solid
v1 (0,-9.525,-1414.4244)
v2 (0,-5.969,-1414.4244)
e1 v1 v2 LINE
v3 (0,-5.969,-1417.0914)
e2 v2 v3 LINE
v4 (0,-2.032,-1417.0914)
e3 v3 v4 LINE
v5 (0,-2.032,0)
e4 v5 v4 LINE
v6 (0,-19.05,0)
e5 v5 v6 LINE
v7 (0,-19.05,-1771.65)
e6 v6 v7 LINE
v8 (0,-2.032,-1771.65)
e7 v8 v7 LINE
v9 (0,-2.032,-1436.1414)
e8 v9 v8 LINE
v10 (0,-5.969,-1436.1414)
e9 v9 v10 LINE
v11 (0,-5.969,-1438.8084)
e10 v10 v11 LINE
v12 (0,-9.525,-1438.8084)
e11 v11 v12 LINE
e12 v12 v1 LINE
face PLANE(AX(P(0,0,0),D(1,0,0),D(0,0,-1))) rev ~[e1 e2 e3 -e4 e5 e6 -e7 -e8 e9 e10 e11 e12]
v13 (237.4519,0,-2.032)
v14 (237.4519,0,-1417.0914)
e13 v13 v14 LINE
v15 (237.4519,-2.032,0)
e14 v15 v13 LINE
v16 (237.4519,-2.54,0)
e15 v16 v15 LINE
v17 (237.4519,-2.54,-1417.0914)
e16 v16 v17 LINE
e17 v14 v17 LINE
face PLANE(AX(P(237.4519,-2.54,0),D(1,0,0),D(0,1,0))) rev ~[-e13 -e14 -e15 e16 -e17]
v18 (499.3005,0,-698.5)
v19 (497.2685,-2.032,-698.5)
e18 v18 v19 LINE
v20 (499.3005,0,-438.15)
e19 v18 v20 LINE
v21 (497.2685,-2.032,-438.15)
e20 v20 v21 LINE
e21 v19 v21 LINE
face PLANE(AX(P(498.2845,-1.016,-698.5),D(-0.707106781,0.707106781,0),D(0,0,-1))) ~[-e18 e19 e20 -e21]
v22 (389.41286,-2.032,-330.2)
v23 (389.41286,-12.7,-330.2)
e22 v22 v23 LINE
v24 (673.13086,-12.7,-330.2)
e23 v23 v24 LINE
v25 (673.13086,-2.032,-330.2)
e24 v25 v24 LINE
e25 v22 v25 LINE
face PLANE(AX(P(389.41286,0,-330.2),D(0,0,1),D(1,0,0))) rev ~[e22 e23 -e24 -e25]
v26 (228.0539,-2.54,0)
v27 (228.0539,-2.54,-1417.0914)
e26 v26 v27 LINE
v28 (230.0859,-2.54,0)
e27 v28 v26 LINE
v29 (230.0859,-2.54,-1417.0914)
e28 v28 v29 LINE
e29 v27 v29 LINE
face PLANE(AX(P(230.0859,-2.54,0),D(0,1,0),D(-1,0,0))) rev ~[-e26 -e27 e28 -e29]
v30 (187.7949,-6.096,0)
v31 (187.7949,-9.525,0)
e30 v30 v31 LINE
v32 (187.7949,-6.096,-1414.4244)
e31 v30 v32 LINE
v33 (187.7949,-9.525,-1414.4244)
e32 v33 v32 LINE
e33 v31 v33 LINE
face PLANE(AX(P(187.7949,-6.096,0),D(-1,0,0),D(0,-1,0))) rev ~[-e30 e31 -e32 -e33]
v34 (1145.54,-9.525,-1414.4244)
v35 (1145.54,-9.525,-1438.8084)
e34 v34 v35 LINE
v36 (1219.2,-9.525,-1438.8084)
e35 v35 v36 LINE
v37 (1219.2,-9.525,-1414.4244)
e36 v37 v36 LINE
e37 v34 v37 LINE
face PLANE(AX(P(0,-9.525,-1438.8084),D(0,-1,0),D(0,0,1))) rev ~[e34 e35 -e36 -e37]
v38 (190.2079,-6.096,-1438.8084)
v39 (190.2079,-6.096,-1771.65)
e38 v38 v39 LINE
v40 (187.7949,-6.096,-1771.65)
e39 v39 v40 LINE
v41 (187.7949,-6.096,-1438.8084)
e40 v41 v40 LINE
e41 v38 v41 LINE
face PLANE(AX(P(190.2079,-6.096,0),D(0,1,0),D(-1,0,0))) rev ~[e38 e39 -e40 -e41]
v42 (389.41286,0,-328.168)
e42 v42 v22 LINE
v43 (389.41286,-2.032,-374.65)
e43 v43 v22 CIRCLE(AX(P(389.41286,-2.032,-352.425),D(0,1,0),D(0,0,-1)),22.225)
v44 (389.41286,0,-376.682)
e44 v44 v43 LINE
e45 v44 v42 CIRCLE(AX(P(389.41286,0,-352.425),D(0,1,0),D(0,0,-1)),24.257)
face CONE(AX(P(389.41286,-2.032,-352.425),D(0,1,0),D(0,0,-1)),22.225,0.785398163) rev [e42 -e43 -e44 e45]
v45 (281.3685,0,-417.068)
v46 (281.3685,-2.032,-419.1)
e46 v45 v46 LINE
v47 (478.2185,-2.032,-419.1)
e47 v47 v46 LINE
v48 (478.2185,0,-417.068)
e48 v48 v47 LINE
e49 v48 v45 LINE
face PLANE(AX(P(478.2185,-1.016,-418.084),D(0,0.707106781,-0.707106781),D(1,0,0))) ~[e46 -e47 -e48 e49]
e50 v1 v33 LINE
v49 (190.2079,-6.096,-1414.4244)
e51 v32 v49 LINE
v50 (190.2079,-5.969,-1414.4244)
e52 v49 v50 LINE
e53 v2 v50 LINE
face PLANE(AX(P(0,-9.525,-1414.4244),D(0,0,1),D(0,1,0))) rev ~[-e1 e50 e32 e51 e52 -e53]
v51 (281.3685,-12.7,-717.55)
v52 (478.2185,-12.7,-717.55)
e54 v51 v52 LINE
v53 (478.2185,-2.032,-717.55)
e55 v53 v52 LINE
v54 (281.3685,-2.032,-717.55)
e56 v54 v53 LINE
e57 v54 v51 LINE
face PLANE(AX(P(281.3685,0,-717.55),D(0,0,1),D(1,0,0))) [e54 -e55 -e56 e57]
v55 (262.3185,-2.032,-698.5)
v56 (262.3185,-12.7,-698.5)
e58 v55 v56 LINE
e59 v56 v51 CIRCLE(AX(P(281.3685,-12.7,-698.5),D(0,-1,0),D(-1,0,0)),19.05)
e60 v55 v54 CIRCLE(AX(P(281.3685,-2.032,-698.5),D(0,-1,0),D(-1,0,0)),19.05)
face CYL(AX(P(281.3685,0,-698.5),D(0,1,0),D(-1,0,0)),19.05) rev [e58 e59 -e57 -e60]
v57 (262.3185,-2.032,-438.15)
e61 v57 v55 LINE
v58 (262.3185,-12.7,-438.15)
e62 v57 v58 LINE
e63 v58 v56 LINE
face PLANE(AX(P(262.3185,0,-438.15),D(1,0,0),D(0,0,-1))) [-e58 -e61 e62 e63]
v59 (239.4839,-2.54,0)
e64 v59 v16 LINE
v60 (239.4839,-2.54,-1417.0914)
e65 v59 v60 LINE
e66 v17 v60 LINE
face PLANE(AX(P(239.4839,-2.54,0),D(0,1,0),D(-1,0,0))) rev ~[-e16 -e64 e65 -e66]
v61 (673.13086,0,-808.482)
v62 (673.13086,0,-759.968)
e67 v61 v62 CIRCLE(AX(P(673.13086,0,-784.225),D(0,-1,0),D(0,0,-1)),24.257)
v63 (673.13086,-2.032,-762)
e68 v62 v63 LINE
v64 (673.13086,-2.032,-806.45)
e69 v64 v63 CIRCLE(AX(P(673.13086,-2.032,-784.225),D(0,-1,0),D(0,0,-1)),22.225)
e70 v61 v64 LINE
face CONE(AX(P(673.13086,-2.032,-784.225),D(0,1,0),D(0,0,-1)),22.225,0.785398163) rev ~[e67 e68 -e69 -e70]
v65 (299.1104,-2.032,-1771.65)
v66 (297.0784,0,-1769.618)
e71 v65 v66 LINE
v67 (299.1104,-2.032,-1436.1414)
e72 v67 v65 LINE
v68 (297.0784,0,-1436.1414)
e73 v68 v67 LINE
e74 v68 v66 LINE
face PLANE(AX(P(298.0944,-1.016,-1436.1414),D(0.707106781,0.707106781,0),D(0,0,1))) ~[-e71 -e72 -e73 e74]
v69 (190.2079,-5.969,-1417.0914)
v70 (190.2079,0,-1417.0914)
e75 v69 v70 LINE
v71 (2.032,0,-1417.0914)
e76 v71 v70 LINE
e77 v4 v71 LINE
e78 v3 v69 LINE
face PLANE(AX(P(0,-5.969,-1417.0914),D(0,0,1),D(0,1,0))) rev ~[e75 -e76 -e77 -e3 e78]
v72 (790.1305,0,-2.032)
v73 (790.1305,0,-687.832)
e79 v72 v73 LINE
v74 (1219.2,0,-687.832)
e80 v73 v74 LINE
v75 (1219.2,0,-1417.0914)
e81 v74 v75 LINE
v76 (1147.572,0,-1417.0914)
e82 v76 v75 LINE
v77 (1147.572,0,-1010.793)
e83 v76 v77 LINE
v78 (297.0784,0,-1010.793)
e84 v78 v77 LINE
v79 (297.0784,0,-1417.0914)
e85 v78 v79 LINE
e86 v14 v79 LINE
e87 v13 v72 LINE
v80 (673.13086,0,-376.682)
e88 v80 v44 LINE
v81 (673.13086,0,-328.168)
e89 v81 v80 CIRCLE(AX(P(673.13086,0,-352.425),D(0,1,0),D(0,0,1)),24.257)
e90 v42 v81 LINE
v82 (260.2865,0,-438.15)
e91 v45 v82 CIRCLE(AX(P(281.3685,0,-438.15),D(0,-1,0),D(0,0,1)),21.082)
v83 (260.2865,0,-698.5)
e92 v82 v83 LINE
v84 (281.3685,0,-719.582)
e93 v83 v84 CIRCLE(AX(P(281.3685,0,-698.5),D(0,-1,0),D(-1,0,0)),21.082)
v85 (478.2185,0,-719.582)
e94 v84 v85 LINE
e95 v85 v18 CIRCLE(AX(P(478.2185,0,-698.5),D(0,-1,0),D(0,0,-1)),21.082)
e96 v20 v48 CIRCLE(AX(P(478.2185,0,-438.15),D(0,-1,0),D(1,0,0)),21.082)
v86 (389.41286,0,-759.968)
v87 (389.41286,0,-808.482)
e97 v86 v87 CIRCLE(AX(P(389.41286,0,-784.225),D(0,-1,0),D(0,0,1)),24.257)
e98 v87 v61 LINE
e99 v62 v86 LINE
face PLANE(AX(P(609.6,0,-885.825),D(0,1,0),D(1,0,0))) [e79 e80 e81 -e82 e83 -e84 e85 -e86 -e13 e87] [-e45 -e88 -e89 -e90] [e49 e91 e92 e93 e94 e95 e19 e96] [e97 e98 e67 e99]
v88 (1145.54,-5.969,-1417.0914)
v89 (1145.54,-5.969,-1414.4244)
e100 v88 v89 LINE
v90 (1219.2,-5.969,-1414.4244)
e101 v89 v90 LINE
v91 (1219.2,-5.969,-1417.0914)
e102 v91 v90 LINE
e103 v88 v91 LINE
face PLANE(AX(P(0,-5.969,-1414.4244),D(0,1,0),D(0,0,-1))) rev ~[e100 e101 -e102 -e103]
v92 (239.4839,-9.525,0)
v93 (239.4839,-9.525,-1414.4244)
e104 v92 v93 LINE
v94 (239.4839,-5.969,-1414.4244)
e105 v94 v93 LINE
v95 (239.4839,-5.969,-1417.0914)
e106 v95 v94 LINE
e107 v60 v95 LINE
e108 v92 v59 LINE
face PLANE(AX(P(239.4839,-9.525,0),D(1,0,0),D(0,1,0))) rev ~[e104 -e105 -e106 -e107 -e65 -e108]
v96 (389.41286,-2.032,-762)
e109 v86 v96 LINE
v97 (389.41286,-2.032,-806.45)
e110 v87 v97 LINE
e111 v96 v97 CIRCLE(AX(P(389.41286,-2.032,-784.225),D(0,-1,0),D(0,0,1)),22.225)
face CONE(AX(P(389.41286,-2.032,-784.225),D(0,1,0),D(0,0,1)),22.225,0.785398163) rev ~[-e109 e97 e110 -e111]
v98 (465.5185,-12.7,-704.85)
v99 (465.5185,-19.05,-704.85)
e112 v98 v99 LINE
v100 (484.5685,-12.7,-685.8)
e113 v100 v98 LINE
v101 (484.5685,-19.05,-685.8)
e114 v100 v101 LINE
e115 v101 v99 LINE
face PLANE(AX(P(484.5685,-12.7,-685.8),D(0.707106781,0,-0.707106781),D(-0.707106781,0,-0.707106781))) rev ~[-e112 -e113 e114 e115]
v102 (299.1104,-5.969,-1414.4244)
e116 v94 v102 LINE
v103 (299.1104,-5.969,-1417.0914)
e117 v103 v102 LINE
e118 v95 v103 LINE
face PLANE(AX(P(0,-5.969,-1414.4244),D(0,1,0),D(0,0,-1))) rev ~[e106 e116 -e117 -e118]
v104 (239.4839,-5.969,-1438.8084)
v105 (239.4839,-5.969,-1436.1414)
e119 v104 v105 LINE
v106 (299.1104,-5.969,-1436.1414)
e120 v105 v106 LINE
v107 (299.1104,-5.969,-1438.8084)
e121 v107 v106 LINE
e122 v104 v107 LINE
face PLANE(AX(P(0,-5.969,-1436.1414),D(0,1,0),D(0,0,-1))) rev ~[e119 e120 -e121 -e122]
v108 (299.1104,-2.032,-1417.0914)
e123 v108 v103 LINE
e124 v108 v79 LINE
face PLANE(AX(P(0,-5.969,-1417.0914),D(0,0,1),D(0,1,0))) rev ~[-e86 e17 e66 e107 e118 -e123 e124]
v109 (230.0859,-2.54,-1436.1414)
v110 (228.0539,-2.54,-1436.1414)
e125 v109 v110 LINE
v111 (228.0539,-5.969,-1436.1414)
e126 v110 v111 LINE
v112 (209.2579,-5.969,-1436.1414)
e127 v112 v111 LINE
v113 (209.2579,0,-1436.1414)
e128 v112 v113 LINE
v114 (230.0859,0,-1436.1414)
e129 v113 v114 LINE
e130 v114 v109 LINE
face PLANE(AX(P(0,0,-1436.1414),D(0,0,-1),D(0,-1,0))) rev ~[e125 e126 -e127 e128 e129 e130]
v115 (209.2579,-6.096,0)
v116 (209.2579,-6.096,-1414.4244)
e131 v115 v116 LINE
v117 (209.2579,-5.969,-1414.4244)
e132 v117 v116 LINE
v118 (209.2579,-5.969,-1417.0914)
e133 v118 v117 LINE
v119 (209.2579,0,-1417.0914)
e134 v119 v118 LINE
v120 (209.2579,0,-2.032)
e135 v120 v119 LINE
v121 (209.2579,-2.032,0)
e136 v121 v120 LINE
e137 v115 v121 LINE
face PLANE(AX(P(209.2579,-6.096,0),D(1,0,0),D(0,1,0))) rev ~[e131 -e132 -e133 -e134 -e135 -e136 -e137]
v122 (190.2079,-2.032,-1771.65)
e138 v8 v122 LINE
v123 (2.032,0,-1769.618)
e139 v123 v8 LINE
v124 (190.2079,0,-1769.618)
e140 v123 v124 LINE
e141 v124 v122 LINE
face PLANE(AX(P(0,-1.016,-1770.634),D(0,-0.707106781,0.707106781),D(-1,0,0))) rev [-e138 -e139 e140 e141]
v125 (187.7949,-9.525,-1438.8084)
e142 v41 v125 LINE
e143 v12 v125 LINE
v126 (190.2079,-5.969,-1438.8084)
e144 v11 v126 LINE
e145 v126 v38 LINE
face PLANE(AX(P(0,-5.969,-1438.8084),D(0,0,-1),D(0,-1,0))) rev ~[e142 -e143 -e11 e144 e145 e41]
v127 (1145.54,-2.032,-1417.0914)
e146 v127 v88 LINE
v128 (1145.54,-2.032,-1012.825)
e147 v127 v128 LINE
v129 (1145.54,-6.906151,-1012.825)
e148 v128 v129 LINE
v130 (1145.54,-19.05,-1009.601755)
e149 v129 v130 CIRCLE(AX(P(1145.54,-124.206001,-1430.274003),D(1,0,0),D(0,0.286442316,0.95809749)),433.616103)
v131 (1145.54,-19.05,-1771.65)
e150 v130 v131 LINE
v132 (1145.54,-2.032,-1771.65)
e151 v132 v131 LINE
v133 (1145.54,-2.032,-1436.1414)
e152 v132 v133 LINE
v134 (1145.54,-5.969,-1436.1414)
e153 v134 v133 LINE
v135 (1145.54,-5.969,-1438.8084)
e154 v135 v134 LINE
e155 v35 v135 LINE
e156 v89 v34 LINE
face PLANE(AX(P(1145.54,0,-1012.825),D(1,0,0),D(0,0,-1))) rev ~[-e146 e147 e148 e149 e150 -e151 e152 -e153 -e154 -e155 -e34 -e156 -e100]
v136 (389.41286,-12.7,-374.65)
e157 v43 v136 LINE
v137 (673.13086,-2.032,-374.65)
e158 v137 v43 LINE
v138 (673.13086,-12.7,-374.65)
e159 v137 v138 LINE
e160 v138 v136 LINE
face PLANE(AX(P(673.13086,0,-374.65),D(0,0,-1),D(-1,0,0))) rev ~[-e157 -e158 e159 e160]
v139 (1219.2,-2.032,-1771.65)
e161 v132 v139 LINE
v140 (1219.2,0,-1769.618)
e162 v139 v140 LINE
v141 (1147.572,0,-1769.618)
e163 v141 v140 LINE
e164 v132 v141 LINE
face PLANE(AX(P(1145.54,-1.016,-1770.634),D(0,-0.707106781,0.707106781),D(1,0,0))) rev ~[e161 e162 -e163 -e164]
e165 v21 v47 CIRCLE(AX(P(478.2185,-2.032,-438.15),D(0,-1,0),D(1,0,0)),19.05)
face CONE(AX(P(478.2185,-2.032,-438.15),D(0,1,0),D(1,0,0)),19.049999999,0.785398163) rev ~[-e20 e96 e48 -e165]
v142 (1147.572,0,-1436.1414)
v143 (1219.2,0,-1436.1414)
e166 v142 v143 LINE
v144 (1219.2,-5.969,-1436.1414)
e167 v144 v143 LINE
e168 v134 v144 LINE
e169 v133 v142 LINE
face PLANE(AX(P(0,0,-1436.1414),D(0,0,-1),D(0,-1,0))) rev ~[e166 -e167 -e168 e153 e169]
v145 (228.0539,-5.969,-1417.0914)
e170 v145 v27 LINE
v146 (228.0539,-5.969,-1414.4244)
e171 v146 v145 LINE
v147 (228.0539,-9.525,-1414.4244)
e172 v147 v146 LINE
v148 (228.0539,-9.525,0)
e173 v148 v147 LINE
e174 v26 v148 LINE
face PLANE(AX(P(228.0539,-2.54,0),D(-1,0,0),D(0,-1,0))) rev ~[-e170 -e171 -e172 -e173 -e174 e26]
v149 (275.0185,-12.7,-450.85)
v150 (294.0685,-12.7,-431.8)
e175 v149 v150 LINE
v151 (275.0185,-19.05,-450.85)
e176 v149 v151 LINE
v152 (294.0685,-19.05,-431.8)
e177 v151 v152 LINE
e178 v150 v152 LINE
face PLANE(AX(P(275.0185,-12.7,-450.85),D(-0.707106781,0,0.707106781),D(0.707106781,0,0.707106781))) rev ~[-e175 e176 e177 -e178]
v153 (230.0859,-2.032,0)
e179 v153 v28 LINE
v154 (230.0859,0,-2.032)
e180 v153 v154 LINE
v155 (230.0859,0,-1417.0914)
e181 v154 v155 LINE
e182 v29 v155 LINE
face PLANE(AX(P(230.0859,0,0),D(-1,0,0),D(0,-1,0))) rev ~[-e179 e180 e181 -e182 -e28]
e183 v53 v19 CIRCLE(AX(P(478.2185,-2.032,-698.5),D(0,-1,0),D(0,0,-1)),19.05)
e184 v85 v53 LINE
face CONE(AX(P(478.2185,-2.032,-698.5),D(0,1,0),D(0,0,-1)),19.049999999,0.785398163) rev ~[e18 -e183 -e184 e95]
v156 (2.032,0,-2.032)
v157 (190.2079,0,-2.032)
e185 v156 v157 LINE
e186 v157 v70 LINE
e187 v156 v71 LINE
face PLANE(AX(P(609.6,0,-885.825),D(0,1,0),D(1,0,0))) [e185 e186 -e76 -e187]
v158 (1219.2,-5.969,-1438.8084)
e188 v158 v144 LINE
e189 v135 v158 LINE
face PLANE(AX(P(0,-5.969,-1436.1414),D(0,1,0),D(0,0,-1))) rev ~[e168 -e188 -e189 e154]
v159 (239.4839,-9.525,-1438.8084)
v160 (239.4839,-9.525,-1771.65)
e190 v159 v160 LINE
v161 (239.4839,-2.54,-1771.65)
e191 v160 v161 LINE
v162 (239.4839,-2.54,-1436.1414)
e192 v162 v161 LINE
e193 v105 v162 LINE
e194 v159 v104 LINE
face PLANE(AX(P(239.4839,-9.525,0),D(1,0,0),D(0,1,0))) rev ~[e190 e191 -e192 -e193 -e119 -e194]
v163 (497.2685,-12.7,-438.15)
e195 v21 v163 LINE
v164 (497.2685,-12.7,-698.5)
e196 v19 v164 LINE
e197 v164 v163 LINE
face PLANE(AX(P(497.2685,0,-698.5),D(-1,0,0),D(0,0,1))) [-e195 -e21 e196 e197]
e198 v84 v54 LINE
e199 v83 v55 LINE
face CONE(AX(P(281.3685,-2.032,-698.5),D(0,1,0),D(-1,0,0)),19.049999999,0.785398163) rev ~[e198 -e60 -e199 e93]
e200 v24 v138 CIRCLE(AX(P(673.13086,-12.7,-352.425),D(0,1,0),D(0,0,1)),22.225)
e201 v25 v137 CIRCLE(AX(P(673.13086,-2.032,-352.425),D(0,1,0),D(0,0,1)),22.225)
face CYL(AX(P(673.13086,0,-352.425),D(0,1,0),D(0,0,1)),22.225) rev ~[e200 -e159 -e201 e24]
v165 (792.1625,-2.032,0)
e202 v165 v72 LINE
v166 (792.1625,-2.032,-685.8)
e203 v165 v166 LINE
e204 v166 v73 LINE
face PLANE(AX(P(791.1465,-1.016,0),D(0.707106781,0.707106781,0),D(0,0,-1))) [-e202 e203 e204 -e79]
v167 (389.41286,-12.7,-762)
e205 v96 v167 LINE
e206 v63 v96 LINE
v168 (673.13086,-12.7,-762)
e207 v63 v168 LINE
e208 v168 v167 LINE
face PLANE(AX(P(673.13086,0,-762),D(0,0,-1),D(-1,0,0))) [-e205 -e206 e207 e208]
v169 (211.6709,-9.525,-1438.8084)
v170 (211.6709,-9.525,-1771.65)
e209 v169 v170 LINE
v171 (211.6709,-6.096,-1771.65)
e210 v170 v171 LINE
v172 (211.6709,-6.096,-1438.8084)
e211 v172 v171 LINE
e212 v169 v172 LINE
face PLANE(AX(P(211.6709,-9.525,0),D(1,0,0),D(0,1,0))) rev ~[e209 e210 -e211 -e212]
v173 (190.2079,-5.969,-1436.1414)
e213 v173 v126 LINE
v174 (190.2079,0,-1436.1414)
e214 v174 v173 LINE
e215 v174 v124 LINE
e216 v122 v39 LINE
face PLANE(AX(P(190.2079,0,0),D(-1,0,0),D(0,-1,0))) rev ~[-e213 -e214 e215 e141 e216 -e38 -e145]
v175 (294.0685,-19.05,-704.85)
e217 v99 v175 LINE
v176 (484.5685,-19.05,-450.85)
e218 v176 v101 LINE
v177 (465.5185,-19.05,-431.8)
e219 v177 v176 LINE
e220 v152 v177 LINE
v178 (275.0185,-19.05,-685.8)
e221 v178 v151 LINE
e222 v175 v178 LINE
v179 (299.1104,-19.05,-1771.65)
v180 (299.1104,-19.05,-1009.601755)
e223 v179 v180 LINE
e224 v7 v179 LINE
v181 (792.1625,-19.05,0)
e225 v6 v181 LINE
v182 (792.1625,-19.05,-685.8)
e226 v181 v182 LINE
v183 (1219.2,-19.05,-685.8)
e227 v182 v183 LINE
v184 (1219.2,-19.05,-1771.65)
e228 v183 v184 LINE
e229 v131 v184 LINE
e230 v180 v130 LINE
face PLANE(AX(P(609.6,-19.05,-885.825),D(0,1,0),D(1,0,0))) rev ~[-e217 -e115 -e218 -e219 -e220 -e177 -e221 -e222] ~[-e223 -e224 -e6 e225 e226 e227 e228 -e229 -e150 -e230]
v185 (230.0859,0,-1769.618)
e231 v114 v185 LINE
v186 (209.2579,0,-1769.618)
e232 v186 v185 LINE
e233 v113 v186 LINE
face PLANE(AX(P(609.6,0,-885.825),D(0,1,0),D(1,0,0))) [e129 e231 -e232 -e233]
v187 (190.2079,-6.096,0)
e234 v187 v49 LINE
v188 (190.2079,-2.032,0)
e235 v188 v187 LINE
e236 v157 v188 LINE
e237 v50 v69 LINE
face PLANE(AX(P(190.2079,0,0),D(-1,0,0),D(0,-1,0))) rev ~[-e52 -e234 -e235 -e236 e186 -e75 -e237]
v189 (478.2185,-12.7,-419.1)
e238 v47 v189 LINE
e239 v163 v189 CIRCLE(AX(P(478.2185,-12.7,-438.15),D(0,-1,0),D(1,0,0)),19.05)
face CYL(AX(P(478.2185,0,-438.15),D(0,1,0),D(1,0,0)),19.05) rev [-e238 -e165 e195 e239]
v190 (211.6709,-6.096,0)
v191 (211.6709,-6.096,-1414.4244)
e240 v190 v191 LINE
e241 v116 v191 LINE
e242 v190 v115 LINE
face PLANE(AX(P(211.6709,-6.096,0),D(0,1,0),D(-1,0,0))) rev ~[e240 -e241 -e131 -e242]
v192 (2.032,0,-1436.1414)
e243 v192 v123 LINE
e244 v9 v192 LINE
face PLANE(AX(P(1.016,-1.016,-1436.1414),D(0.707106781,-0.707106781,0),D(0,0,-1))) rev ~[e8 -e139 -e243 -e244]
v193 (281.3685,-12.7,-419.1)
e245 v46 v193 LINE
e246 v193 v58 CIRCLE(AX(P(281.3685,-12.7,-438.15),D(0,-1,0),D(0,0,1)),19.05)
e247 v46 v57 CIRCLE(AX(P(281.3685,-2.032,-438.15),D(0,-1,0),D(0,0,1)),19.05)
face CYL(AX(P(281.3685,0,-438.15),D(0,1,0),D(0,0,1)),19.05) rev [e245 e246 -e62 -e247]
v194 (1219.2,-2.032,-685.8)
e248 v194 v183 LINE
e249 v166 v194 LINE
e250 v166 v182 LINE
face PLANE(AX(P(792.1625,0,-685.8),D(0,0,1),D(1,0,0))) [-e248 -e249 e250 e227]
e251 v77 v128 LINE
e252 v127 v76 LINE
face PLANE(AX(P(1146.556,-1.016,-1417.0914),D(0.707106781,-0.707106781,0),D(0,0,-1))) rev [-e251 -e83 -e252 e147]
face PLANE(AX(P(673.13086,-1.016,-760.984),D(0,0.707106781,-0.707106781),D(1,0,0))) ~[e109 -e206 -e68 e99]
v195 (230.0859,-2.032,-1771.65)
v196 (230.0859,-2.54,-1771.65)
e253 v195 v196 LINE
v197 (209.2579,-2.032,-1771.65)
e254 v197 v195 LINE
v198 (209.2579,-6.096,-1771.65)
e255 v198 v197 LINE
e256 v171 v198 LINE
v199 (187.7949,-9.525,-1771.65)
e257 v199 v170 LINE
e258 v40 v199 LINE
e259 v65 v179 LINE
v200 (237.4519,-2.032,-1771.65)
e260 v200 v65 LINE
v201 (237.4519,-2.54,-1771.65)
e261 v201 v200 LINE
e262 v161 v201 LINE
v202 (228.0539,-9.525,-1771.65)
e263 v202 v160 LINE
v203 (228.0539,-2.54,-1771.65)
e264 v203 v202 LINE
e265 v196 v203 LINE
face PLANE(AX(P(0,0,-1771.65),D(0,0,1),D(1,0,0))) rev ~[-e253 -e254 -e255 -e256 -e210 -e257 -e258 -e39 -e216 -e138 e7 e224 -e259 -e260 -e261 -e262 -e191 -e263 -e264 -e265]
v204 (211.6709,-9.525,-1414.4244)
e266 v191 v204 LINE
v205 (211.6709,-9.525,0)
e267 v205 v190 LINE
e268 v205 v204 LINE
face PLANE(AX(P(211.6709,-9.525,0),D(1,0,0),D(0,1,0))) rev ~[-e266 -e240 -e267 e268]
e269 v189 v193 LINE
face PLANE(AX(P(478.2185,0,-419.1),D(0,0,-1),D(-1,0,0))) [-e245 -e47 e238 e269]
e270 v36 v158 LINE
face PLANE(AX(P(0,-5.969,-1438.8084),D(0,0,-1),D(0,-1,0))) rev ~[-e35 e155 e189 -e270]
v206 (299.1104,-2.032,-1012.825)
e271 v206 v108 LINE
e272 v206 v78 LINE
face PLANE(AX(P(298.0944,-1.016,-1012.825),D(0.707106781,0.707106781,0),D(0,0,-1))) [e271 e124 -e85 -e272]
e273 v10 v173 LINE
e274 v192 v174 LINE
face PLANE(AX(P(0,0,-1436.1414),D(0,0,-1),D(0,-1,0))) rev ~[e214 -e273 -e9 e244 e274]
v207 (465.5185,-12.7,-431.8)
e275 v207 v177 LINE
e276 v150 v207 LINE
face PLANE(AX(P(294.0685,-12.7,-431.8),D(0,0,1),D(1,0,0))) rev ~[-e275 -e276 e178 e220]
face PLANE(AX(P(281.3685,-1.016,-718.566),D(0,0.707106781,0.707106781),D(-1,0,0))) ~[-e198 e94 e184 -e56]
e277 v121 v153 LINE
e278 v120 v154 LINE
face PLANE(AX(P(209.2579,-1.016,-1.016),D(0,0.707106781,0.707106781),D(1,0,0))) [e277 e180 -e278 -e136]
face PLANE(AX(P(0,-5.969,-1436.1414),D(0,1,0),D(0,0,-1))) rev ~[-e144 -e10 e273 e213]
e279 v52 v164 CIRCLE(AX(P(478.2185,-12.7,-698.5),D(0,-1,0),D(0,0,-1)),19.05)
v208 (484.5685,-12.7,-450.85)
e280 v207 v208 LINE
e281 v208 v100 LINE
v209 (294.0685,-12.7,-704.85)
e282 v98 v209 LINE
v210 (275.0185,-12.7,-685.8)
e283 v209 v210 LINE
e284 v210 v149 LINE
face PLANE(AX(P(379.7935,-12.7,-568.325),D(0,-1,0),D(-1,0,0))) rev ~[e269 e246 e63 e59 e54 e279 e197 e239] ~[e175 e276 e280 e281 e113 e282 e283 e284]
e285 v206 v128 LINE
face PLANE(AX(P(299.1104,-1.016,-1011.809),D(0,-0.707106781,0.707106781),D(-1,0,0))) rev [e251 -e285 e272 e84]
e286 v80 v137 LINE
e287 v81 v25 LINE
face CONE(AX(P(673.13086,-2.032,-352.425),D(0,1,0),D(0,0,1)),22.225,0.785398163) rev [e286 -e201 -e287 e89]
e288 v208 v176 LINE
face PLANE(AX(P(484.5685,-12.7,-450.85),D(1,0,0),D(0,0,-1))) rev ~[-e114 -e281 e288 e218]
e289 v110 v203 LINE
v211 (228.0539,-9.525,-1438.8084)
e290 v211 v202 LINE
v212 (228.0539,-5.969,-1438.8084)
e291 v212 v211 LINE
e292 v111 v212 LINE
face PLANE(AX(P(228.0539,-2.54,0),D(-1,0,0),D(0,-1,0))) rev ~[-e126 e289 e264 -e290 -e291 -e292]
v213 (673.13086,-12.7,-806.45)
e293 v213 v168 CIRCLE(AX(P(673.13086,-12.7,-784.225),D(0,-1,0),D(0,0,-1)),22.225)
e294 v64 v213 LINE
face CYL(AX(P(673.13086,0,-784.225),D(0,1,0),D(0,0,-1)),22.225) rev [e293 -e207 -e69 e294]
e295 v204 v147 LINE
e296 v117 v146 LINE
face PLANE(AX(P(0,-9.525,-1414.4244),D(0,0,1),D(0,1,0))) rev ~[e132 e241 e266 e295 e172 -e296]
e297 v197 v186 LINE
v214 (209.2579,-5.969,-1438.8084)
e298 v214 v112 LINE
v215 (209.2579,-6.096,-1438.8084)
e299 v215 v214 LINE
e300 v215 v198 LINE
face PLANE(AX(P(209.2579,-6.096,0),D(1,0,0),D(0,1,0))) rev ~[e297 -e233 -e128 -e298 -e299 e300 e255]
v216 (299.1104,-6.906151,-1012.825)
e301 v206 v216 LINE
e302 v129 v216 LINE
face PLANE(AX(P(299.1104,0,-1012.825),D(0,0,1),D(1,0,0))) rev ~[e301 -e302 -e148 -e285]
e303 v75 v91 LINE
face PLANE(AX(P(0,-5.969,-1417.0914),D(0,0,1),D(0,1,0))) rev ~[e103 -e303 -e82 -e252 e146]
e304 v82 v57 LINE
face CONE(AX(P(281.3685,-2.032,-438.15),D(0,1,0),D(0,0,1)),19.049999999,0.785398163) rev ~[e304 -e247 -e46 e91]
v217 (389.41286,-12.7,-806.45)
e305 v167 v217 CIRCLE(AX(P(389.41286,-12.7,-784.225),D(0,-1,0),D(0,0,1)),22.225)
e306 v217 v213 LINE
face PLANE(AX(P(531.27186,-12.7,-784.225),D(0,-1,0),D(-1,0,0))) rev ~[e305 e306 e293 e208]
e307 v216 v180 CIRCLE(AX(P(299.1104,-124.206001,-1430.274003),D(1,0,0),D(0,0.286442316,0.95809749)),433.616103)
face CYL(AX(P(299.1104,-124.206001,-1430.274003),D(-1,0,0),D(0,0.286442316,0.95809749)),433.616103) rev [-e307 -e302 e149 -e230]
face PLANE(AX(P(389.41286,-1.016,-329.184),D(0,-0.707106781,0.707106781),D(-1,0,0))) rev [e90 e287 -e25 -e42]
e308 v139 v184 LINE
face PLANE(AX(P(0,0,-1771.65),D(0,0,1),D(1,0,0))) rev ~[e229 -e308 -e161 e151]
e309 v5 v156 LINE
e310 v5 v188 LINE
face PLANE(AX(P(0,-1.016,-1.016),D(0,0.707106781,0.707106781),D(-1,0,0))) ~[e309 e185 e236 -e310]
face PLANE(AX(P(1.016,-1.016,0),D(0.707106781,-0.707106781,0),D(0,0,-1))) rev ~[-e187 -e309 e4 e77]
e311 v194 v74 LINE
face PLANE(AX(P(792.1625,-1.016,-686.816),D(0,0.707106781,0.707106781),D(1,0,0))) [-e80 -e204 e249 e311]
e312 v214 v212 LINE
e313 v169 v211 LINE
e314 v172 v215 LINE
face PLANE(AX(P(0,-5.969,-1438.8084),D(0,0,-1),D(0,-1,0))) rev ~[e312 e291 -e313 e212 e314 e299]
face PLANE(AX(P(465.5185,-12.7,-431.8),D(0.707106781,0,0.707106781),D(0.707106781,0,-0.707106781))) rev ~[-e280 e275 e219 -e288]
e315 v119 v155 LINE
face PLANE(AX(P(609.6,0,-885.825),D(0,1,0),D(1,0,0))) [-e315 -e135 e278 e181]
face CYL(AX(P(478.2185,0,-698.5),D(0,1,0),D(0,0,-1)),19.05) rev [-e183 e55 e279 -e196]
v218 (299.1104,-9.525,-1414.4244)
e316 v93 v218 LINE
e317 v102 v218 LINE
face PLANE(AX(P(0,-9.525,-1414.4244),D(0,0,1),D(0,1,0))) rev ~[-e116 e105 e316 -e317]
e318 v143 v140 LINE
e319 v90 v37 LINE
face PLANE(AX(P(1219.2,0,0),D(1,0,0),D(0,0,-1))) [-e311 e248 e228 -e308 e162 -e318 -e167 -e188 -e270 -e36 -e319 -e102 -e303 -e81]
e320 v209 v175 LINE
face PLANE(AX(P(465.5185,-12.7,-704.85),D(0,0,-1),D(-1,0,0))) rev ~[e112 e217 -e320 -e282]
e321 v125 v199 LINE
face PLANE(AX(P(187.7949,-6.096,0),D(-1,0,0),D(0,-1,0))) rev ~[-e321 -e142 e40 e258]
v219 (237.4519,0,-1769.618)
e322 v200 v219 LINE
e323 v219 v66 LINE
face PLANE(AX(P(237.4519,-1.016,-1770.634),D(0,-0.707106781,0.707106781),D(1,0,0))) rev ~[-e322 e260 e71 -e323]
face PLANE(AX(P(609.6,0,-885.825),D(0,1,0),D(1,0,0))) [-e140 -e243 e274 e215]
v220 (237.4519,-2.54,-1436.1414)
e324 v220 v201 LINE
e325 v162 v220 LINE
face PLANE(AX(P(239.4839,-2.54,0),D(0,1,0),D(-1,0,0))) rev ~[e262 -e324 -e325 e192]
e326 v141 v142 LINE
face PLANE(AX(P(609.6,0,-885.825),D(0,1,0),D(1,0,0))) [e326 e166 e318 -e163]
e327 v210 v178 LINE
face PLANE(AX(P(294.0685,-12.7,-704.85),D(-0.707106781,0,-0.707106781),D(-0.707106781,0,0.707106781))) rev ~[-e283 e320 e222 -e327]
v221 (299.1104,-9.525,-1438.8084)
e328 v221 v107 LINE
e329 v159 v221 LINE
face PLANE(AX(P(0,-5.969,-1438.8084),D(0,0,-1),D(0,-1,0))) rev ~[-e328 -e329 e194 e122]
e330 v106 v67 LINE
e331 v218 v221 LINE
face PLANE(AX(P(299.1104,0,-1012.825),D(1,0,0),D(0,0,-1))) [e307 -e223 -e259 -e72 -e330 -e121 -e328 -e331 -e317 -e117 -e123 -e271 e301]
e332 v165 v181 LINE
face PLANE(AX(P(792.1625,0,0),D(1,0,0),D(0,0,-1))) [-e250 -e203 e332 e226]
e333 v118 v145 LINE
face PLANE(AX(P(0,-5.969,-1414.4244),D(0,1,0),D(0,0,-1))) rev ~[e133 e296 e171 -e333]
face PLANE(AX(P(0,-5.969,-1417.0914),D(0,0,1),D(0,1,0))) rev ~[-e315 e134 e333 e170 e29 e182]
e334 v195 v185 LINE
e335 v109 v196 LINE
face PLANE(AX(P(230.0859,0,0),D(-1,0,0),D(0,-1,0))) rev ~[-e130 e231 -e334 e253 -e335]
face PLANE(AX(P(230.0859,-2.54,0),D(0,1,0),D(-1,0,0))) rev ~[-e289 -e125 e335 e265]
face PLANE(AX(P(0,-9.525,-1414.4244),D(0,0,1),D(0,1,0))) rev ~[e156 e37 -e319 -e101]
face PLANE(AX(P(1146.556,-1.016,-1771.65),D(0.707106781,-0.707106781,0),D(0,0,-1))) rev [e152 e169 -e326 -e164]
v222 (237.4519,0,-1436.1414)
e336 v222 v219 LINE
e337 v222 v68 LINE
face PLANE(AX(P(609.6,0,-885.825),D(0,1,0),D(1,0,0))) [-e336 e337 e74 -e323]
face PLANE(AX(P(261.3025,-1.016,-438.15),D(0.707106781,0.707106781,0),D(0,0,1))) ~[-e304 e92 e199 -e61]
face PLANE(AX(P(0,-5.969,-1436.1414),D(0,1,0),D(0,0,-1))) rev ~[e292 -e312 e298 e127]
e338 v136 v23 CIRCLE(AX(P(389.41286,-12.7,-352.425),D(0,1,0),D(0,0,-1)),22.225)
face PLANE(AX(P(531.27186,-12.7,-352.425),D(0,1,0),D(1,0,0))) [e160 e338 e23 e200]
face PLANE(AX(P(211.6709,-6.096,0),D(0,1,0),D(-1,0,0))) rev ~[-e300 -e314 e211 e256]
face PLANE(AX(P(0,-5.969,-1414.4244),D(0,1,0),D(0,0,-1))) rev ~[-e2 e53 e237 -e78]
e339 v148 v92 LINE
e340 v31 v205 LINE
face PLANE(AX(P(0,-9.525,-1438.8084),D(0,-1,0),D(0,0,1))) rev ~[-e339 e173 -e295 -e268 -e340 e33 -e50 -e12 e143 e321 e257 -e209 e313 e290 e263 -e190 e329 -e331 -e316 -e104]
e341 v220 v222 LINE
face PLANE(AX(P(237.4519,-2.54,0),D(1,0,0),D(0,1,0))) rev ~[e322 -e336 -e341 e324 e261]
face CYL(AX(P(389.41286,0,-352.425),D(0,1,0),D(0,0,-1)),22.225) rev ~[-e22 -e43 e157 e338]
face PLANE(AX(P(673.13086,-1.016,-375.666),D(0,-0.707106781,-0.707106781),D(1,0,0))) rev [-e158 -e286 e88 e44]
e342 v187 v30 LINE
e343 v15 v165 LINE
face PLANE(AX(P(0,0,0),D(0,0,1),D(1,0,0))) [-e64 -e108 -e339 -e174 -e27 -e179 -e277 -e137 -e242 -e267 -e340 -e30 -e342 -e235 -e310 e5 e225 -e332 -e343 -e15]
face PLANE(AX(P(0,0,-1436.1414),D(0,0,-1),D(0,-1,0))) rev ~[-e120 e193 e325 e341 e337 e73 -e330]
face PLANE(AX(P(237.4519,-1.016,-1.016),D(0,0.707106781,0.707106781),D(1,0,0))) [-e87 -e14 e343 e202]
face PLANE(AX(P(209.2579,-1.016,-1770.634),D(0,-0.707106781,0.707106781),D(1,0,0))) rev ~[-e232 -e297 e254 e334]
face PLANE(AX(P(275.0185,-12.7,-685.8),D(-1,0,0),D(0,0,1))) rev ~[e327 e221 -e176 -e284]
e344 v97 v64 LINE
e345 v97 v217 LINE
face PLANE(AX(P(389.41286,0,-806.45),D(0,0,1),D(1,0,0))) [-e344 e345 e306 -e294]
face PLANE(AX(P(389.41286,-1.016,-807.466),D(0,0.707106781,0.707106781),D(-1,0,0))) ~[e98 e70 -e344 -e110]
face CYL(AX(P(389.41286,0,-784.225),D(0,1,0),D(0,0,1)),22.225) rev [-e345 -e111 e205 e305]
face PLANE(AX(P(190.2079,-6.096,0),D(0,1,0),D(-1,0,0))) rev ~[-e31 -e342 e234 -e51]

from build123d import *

# Parameters (mm, degrees)
SKETCH1_W           = 1219.2
SKETCH1_H           = 1771.65
BOSS_EXTRUDE1_DEPTH = 19.05
SKETCH3_W           = 508
SKETCH3_H           = 685.8
CUT_EXTRUDE2_DEPTH  = 20.05
SKETCH5_W           = 846.4296
SKETCH5_H           = 758.825
CUT_EXTRUDE4_DEPTH  = 20.05
CUT_EXTRUDE12_DEPTH = 846.4296
CUT_EXTRUDE5_DEPTH  = 12.7
CUT_EXTRUDE6_DEPTH  = 7.35
CUT_EXTRUDE11_DEPTH = 12.7
CUT_EXTRUDE8_DEPTH  = 1772.65
CUT_EXTRUDE10_DEPTH = 1220.2
CHAMFER2_SIZE       = 2.032


with BuildPart() as part:
    # Sketch1 → Boss-Extrude1 (new body)
    with BuildSketch(Plane(origin=(0, 0, 0), x_dir=(1, 0, 0), z_dir=(0, 1, 0))):
        with Locations((609.6, 885.825)):
            Rectangle(SKETCH1_W, SKETCH1_H)
    extrude(amount=-BOSS_EXTRUDE1_DEPTH)

    # Sketch3 → Cut-Extrude2 (cut, through all)
    with BuildSketch(Plane(origin=(0, 0, 0), x_dir=(1, 0, 0), z_dir=(0, 1, 0))):
        with Locations((1046.1625, 342.9)):
            Rectangle(SKETCH3_W, SKETCH3_H)
    extrude(amount=-CUT_EXTRUDE2_DEPTH, mode=Mode.SUBTRACT)

    # Sketch5 → Cut-Extrude4 (cut, through all)
    with BuildSketch(Plane(origin=(0, 0, 0), x_dir=(1, 0, 0), z_dir=(0, 1, 0))):
        with Locations((722.3252, 1392.2375)):
            Rectangle(SKETCH5_W, SKETCH5_H)
    extrude(amount=-CUT_EXTRUDE4_DEPTH, mode=Mode.SUBTRACT)

    # Sketch18 → Cut-Extrude12 (cut)
    with BuildSketch(Plane(origin=(299.1104, 0, 0), x_dir=(0, 0, -1), z_dir=(1, 0, 0))):
        with BuildLine():
            Line((1009.601754844, -19.05), (1771.65, -19.05))
            Line((1771.65, -19.05), (1771.65, 0))
            Line((1771.65, 0), (1014.82750315, 0))
            ThreePointArc((1014.82750315, 0), (1012.106135013, -9.495238202), (1009.601754844, -19.05))
        make_face()
    extrude(amount=CUT_EXTRUDE12_DEPTH, mode=Mode.SUBTRACT)

    # Sketch7 → Cut-Extrude5 (cut)
    with BuildSketch(Plane(origin=(0, 0, 0), x_dir=(1, 0, 0), z_dir=(0, 1, 0))):
        with BuildLine():
            Line((281.3685, 717.55), (478.2185, 717.55))
            ThreePointArc((478.2185, 717.55), (491.688884182, 711.970384182), (497.2685, 698.5))
            Line((497.2685, 698.5), (497.2685, 438.15))
            ThreePointArc((497.2685, 438.15), (491.688884182, 424.679615818), (478.2185, 419.1))
            Line((478.2185, 419.1), (281.3685, 419.1))
            ThreePointArc((281.3685, 419.1), (267.898115818, 424.679615818), (262.3185, 438.15))
            Line((262.3185, 438.15), (262.3185, 698.5))
            ThreePointArc((262.3185, 698.5), (267.898115818, 711.970384182), (281.3685, 717.55))
        make_face()
    extrude(amount=-CUT_EXTRUDE5_DEPTH, mode=Mode.SUBTRACT)

    # Sketch8 → Cut-Extrude6 (cut, through all)
    with BuildSketch(Plane(origin=(0, -12.7, 0), x_dir=(1, 0, 0), z_dir=(0, 1, 0))):
        Polygon((294.0685, 704.85), (275.0185, 685.8), (275.0185, 450.85), (294.0685, 431.8), (465.5185, 431.8), (484.5685, 450.85), (484.5685, 685.8), (465.5185, 704.85), align=None)
    extrude(amount=-CUT_EXTRUDE6_DEPTH, mode=Mode.SUBTRACT)

    # Sketch17 → Cut-Extrude11 (cut)
    with BuildSketch(Plane(origin=(0, 0, 0), x_dir=(1, 0, 0), z_dir=(0, 1, 0))):
        with BuildLine():
            Line((389.412860427, 806.45), (673.130860427, 806.45))
            ThreePointArc((673.130860427, 806.45), (695.355860427, 784.225), (673.130860427, 762))
            Line((673.130860427, 762), (389.412860427, 762))
            ThreePointArc((389.412860427, 762), (367.187860427, 784.225), (389.412860427, 806.45))
        make_face()
        with BuildLine():
            Line((389.412860427, 330.2), (673.130860427, 330.2))
            ThreePointArc((673.130860427, 330.2), (695.355860427, 352.425), (673.130860427, 374.65))
            Line((673.130860427, 374.65), (389.412860427, 374.65))
            ThreePointArc((389.412860427, 374.65), (367.187860427, 352.425), (389.412860427, 330.2))
        make_face()
    extrude(amount=-CUT_EXTRUDE11_DEPTH, mode=Mode.SUBTRACT)

    # Sketch12 → Cut-Extrude8 (cut, through all)
    with BuildSketch(Plane.XY):
        Polygon((209.2579, 0), (190.2079, 0), (190.2079, -6.096), (187.7949, -6.096), (187.7949, -9.525), (211.6709, -9.525), (211.6709, -6.096), (209.2579, -6.096), align=None)
        Polygon((237.4519, 0), (230.0859, 0), (230.0859, -2.54), (228.0539, -2.54), (228.0539, -9.525), (239.4839, -9.525), (239.4839, -2.54), (237.4519, -2.54), align=None)
    extrude(amount=-CUT_EXTRUDE8_DEPTH, mode=Mode.SUBTRACT)

    # Sketch16 → Cut-Extrude10 (cut, through all)
    with BuildSketch(Plane.ZY):
        Polygon((-1438.8084, -9.525), (-1414.4244, -9.525), (-1414.4244, -5.969), (-1417.0914, -5.969), (-1417.0914, 0), (-1436.1414, 0), (-1436.1414, -5.969), (-1438.8084, -5.969), align=None)
    extrude(amount=-CUT_EXTRUDE10_DEPTH, mode=Mode.SUBTRACT)

    # Chamfer2
    chamfer2_edges = [part.edges().sort_by_distance(p)[0] for p in [
        (367.187860427, 0, -784.225),
        (531.271860427, 0, -762),
        (695.355860427, 0, -784.225),
        (531.271860427, 0, -806.45),
        (367.187860427, 0, -352.425),
        (531.271860427, 0, -330.2),
        (695.355860427, 0, -352.425),
        (531.271860427, 0, -374.65),
        (1005.68125, 0, -685.8),
        (219.6719, 0, -1771.65),
        (95.10395, 0, -1771.65),
        (219.6719, 0, 0),
        (514.8072, 0, 0),
        (792.1625, 0, -342.9),
        (1145.54, 0, -1603.8957),
        (299.1104, 0, -1214.9582),
        (0, 0, -708.5457),
        (268.28115, 0, -1771.65),
        (299.1104, 0, -1603.8957),
        (722.3252, 0, -1012.825),
        (1145.54, 0, -1214.9582),
        (0, 0, -1603.8957),
        (1182.37, 0, -1771.65),
        (95.10395, 0, 0),
        (491.688884182, 0, -424.679615818),
        (497.2685, 0, -568.325),
        (491.688884182, 0, -711.970384182),
        (379.7935, 0, -717.55),
        (267.898115818, 0, -711.970384182),
        (262.3185, 0, -568.325),
        (267.898115818, 0, -424.679615818),
        (379.7935, 0, -419.1),
    ]]
    chamfer(chamfer2_edges, length=CHAMFER2_SIZE)


solid = part.part
